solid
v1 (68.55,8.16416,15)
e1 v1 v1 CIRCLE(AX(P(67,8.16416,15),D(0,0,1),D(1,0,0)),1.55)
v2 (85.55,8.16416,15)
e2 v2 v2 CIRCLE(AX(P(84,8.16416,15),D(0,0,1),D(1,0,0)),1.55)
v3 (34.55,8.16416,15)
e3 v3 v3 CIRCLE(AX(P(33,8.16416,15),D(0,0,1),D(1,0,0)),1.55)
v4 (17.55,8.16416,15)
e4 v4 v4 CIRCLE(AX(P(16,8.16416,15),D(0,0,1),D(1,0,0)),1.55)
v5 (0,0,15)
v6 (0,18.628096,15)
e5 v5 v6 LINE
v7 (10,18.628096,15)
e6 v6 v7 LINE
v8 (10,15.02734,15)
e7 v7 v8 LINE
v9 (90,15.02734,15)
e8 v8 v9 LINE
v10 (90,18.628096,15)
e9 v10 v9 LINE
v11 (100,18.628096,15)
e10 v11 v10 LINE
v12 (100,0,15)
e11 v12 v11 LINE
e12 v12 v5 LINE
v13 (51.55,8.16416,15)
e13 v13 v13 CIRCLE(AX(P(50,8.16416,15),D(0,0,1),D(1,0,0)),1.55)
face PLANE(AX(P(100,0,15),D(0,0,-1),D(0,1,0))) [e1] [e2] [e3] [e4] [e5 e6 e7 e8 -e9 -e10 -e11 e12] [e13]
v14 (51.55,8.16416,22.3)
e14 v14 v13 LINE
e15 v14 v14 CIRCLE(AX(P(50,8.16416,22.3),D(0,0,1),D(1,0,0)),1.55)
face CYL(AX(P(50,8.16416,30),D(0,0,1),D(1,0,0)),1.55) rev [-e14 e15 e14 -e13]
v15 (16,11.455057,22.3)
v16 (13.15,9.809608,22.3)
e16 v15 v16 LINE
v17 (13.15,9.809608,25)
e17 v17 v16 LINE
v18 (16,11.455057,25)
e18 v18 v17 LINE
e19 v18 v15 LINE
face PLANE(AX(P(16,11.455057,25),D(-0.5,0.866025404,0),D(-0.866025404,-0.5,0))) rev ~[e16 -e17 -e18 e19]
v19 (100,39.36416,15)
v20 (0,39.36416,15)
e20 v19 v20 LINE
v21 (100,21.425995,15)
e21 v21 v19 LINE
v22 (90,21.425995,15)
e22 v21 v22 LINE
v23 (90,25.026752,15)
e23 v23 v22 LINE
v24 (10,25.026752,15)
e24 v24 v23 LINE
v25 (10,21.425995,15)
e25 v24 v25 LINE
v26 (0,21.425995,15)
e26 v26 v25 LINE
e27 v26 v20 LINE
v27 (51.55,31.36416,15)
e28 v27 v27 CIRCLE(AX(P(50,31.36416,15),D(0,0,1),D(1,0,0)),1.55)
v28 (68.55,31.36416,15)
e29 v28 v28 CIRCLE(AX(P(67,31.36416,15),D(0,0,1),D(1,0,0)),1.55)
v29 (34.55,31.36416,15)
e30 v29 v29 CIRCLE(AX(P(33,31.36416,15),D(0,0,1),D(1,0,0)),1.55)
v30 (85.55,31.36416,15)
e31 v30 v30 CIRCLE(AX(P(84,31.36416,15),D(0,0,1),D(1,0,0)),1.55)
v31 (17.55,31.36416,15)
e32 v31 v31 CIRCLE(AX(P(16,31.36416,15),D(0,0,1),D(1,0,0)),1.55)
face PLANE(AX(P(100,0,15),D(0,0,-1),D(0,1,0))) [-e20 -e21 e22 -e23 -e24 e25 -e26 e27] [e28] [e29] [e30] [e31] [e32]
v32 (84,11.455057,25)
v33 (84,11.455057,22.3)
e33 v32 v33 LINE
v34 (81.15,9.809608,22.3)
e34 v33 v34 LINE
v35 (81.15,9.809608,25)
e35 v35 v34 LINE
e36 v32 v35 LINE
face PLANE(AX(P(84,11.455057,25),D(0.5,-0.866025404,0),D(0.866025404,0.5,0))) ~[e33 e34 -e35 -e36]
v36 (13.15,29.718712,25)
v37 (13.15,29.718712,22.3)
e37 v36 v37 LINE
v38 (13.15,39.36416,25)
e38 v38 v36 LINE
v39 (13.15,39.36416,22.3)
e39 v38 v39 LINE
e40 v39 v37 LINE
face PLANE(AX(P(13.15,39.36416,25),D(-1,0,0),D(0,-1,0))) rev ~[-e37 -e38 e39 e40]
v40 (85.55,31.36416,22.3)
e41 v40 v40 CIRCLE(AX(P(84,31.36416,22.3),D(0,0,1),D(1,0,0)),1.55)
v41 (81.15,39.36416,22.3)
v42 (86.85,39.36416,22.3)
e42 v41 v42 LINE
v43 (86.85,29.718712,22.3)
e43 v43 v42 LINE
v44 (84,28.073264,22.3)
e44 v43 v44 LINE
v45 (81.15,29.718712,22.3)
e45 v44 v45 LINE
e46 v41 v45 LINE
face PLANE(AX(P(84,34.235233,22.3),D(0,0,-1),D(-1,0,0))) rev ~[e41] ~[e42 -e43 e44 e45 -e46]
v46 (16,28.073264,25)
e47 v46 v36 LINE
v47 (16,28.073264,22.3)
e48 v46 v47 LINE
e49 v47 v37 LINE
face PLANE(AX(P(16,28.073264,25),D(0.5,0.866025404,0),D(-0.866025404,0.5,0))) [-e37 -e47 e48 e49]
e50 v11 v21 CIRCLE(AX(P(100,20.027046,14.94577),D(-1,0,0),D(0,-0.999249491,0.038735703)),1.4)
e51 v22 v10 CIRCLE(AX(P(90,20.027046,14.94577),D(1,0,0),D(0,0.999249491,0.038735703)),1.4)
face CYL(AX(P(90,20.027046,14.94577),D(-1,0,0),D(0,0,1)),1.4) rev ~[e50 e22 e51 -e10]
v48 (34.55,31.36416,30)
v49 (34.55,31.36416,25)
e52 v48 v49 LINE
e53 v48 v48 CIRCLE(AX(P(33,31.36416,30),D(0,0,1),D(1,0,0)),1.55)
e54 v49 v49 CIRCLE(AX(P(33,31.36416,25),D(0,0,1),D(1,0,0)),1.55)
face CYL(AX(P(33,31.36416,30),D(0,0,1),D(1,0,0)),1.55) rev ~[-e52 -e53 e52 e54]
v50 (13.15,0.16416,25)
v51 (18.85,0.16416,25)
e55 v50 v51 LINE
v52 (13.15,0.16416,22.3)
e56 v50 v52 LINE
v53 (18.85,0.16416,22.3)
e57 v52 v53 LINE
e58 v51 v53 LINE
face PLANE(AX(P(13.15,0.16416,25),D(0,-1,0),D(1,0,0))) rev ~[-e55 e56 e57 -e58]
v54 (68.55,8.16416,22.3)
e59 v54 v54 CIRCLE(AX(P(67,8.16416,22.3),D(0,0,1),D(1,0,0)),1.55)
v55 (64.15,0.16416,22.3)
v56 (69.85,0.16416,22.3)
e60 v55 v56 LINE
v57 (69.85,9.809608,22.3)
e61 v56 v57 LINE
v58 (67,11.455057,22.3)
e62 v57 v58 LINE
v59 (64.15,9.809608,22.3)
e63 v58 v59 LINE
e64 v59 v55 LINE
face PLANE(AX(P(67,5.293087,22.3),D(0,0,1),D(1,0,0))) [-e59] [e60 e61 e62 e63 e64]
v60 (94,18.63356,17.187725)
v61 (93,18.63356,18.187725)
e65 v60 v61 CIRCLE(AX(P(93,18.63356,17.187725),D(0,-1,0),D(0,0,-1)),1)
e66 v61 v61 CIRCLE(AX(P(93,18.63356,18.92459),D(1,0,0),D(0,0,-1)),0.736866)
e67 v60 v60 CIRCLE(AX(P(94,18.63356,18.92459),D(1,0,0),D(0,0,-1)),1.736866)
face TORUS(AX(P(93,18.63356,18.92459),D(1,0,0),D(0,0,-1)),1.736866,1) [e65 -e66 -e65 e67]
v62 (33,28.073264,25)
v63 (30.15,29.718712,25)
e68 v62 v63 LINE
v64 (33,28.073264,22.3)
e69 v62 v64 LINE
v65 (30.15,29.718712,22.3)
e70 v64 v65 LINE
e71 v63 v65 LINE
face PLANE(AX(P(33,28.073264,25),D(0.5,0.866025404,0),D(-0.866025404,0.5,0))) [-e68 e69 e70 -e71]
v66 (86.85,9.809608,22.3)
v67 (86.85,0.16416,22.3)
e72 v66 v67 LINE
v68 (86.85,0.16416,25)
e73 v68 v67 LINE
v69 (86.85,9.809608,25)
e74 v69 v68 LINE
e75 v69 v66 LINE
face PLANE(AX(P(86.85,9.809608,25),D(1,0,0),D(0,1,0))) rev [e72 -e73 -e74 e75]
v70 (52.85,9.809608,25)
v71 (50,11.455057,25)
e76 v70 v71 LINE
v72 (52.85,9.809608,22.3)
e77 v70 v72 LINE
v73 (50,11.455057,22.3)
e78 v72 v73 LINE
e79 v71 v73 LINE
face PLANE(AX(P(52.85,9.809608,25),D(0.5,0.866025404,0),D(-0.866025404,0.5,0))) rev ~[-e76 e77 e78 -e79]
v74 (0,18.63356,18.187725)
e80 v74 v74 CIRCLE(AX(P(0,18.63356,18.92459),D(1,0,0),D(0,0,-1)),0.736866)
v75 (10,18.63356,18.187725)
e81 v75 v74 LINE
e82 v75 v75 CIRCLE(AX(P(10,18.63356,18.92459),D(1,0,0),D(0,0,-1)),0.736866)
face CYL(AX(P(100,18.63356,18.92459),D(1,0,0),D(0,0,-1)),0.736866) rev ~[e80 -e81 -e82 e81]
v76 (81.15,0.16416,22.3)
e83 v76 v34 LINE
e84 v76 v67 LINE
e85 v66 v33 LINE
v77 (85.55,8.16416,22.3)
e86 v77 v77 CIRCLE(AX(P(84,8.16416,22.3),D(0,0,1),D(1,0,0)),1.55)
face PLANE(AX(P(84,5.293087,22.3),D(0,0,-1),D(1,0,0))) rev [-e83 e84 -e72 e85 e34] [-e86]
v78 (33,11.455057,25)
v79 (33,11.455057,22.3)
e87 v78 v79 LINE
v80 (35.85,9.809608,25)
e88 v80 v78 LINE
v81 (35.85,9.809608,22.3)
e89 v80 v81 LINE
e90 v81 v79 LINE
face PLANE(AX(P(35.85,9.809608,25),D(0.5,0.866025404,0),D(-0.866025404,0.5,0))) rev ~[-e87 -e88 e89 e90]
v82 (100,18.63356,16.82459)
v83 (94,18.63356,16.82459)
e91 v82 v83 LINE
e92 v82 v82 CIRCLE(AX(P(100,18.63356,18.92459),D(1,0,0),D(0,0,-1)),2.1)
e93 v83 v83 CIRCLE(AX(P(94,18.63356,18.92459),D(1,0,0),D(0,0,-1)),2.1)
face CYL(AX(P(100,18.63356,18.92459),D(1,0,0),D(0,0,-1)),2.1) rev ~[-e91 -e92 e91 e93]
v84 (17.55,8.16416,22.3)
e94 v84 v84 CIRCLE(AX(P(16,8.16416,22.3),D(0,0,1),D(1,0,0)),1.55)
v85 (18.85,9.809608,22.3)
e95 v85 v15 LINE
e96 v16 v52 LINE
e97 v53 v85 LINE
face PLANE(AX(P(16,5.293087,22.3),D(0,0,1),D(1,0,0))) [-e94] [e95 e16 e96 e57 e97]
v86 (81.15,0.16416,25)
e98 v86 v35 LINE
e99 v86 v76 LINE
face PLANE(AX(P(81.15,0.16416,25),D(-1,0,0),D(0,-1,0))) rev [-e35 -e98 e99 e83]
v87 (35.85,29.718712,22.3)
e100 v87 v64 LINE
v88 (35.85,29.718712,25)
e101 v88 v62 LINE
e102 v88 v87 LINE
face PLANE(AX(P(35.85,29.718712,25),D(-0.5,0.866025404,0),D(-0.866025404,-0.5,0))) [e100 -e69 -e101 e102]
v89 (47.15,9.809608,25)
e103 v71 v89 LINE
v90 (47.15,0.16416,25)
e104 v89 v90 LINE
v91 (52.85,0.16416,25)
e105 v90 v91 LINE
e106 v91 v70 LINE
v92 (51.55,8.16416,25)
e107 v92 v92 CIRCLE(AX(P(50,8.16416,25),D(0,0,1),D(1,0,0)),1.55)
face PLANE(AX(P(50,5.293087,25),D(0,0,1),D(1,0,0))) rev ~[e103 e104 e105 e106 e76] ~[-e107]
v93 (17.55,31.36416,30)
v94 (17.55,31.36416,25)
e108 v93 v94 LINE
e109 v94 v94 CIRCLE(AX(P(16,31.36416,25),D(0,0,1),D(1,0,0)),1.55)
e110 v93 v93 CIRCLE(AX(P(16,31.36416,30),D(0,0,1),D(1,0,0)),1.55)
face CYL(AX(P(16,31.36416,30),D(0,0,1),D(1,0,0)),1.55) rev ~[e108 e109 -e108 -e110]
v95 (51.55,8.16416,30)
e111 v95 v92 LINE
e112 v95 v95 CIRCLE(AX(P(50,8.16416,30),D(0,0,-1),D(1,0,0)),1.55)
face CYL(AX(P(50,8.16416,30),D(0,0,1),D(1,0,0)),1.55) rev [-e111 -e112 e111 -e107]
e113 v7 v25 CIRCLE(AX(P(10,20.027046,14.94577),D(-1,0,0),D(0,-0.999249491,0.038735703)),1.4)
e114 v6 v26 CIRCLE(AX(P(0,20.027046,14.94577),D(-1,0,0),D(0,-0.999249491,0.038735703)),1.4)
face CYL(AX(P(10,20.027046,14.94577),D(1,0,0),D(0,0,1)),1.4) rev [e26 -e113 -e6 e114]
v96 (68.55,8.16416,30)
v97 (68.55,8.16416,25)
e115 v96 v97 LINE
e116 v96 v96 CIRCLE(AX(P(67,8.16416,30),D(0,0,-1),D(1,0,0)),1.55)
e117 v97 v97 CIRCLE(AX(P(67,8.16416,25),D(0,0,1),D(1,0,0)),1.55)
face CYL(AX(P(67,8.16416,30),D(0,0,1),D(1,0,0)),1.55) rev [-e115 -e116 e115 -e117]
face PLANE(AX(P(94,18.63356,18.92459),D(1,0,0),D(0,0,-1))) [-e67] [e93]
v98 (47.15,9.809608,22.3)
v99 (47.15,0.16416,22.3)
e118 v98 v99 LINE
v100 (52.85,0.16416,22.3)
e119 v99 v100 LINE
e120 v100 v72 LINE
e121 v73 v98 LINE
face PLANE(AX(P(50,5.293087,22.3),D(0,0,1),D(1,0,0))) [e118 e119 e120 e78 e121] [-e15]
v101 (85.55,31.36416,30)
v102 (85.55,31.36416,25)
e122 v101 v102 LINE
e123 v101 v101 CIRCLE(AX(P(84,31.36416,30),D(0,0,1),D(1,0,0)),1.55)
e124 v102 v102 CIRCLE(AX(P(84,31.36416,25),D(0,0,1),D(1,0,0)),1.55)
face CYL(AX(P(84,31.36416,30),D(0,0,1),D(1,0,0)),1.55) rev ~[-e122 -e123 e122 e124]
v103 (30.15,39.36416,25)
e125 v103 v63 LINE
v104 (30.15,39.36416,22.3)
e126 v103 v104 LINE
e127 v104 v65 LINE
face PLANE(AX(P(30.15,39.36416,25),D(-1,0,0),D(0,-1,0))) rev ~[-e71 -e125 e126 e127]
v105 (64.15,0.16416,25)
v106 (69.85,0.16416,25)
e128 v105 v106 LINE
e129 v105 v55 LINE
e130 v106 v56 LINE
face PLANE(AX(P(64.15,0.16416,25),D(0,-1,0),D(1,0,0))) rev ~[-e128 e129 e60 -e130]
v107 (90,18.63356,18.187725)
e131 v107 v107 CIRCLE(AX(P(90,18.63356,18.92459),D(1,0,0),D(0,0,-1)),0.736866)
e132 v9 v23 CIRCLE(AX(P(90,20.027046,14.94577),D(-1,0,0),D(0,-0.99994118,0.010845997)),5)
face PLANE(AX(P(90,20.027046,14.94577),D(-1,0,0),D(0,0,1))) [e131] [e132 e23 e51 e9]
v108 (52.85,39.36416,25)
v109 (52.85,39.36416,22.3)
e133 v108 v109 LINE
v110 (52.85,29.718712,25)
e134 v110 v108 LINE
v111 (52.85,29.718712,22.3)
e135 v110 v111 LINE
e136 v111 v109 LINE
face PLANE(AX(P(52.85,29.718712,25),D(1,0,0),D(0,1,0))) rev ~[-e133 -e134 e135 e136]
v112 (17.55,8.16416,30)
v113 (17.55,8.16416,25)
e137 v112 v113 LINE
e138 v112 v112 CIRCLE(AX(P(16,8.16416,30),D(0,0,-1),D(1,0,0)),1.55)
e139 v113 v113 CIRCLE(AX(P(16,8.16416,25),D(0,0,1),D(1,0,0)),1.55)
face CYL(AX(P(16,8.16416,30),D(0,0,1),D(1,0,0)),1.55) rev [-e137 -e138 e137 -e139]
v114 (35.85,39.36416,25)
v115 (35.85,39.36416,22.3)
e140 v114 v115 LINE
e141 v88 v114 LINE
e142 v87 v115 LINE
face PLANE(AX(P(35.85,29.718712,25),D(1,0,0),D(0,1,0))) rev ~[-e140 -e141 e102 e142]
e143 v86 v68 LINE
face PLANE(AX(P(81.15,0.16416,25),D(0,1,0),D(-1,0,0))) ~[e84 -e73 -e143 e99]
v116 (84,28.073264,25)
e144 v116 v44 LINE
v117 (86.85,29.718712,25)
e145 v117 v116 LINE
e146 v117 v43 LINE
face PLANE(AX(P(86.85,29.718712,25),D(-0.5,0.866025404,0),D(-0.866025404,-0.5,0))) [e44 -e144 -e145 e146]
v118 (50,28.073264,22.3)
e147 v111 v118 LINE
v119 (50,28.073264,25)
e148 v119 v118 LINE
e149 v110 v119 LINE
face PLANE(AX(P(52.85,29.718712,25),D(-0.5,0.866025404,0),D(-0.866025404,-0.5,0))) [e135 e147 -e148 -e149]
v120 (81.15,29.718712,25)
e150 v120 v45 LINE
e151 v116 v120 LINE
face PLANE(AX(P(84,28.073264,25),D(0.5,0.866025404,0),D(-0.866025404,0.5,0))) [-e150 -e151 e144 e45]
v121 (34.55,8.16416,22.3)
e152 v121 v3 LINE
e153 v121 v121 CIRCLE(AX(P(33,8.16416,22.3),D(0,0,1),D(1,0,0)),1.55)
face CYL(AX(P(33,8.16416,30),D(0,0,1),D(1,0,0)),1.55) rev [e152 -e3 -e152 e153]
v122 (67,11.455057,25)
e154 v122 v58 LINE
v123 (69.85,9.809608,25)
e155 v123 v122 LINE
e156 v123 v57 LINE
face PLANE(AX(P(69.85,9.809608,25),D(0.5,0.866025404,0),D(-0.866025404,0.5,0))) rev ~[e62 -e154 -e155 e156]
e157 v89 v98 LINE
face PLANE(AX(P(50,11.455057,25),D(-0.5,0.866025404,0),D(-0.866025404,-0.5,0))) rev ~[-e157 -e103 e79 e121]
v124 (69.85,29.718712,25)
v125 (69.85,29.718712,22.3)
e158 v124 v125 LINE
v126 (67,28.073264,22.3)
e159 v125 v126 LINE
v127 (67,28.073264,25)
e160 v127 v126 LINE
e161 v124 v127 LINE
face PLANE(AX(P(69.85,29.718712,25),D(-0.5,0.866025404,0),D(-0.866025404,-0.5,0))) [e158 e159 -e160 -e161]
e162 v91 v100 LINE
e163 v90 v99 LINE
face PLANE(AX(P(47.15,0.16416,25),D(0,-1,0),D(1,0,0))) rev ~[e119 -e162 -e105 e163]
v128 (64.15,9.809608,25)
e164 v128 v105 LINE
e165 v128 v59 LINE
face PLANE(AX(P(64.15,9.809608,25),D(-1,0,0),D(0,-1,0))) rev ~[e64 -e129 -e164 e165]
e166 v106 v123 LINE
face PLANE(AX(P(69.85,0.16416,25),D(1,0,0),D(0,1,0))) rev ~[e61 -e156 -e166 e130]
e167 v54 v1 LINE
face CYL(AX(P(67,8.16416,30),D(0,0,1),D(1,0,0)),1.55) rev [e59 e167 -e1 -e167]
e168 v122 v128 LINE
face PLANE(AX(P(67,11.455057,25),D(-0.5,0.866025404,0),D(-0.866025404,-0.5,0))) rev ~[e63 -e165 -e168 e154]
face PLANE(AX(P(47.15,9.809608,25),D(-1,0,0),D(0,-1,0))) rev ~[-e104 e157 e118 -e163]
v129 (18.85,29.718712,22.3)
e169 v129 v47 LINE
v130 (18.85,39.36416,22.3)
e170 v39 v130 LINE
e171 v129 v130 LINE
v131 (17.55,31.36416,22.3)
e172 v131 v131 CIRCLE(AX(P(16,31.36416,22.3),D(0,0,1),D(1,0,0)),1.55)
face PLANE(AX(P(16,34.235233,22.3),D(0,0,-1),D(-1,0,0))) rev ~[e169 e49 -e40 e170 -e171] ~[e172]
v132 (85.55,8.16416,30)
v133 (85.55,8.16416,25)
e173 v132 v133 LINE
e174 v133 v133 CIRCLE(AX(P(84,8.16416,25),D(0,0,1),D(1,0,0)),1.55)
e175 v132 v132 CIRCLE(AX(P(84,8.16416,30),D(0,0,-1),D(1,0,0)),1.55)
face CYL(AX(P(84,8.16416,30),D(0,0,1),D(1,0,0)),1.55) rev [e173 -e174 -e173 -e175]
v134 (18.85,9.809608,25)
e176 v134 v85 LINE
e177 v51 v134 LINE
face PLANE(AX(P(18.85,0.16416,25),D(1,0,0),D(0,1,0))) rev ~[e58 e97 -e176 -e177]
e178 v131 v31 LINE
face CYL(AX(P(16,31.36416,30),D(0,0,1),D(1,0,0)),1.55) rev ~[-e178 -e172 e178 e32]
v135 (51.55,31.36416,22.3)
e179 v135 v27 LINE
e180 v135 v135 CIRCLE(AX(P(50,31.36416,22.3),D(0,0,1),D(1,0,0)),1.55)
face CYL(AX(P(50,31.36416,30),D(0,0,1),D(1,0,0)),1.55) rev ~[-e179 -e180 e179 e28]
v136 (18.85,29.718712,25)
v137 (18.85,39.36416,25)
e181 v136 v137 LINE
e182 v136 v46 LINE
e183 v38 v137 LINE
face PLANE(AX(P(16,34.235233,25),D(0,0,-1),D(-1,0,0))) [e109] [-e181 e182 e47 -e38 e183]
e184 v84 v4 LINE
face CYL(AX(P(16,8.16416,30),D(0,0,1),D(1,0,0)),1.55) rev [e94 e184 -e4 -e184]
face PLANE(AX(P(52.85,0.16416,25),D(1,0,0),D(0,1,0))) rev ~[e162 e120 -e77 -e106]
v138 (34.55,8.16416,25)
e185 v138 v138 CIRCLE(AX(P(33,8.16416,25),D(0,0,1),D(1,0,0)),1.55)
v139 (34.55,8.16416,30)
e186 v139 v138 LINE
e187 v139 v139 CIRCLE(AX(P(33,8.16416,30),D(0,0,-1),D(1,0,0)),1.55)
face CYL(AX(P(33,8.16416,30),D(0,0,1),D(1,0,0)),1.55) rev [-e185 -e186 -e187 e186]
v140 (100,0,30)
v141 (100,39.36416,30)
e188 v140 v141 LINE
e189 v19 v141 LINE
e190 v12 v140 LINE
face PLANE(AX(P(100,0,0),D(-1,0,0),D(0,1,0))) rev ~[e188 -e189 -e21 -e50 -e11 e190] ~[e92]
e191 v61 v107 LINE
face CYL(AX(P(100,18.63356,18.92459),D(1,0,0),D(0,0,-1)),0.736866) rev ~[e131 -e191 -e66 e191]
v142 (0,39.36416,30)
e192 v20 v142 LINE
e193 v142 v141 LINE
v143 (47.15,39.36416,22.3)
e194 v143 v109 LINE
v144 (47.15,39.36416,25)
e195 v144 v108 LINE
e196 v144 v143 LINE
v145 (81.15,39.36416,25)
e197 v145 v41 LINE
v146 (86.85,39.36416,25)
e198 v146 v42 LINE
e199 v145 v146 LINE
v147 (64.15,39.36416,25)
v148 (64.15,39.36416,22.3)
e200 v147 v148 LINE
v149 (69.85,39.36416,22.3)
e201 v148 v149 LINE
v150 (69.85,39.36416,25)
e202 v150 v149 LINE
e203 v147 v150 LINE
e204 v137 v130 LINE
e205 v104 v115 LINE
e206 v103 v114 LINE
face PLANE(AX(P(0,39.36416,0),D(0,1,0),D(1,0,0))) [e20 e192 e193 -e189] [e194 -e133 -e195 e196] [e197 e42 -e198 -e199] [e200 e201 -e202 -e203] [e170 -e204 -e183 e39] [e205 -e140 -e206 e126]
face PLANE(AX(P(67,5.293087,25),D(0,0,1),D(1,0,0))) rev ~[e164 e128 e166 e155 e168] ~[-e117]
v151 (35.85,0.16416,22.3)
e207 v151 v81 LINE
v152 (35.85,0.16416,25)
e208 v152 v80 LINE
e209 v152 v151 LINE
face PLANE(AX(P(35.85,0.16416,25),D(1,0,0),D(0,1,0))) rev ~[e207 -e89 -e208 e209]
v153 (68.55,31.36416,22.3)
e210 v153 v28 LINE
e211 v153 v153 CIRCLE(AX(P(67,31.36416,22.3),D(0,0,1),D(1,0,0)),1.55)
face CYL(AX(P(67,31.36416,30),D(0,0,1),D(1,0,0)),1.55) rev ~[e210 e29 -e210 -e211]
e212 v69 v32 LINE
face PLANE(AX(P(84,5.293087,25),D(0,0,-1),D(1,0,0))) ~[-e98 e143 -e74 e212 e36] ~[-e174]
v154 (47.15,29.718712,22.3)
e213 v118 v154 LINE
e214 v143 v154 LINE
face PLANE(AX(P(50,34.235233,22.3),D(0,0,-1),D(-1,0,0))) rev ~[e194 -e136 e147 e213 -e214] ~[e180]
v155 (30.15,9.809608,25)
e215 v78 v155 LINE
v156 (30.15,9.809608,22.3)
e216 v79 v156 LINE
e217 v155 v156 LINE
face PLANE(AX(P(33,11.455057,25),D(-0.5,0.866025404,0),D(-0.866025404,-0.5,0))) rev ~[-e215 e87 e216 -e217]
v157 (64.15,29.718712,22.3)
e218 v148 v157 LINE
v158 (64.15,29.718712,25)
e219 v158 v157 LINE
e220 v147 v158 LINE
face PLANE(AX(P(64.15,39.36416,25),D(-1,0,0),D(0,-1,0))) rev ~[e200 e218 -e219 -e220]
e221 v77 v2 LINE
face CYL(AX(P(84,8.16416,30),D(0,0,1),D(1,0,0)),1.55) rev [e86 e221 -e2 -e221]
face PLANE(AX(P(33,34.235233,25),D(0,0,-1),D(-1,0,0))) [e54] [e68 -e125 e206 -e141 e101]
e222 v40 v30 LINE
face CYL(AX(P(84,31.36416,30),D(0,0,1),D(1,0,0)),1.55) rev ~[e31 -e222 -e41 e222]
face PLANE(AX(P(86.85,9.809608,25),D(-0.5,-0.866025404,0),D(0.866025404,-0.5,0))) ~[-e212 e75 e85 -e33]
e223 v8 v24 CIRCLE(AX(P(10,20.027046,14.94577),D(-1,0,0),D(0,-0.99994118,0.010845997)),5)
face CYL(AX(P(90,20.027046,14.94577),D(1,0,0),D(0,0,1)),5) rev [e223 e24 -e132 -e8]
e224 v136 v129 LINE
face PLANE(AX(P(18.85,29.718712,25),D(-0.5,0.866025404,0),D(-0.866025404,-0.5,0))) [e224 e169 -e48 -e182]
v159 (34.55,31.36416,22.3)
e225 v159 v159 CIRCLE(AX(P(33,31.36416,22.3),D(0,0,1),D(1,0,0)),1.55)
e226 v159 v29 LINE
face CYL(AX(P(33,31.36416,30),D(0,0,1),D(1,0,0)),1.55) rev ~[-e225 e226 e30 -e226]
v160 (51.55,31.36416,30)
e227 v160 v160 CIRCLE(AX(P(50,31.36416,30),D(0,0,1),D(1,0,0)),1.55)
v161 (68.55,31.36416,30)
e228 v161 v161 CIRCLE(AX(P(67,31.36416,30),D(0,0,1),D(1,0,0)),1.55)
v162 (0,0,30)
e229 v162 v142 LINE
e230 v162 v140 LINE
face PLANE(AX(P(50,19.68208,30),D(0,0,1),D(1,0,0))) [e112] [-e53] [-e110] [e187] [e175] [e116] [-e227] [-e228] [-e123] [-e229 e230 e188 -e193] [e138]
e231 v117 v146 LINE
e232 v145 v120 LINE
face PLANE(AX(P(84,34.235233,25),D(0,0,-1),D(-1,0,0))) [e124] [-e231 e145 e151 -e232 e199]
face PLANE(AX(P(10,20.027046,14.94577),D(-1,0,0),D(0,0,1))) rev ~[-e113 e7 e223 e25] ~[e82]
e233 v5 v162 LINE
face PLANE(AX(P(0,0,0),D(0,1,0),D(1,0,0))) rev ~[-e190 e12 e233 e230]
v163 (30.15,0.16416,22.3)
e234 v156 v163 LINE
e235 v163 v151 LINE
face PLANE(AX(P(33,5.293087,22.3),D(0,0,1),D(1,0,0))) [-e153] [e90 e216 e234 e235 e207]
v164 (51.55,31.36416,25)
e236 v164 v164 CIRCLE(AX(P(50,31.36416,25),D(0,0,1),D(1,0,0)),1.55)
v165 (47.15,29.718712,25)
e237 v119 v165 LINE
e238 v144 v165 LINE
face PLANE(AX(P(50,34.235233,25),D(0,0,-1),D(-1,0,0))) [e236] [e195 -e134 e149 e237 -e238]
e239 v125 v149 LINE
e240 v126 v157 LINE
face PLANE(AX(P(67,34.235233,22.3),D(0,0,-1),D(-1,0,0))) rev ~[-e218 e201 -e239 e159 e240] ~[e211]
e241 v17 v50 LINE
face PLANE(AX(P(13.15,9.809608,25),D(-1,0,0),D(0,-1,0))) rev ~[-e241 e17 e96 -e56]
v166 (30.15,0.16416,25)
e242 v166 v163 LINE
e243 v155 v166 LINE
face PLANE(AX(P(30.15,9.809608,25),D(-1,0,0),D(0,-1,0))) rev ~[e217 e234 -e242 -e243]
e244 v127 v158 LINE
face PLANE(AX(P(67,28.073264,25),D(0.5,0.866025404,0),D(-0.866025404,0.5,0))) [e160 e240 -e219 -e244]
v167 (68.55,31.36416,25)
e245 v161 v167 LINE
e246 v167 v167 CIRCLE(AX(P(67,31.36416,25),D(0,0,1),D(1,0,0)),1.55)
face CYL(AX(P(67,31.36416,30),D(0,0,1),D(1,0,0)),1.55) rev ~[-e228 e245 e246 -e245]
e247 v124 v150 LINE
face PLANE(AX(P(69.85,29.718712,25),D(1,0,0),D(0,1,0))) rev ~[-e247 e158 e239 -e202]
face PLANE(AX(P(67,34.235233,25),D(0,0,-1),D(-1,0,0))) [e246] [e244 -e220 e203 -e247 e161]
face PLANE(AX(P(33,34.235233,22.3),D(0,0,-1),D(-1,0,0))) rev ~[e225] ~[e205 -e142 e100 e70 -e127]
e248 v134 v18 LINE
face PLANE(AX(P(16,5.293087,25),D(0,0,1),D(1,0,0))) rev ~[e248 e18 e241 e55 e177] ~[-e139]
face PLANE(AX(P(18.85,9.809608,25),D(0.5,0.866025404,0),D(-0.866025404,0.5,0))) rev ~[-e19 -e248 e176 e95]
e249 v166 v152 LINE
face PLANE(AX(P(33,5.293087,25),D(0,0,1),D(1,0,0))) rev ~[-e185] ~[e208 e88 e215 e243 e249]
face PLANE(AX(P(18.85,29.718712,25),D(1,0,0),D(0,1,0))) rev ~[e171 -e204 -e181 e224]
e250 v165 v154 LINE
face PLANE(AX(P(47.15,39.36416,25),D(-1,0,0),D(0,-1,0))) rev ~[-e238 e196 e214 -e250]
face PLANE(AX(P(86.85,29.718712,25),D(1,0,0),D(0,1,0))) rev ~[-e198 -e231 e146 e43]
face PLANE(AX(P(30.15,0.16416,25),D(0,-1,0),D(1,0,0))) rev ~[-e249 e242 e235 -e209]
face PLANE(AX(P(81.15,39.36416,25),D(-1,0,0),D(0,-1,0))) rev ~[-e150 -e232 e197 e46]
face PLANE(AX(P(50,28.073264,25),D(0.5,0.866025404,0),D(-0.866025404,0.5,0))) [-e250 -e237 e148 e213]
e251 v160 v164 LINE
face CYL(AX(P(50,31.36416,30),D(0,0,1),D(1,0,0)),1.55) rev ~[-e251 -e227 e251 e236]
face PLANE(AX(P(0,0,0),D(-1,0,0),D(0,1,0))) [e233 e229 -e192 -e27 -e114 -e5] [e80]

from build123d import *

# Parameters (mm, degrees)
SKIZZE2_W                            = 100
SKIZZE2_H                            = 39.364160046
AUFSATZ_LINEAR_AUSTRAGEN1_DEPTH      = 30
SCHNITT_LINEAR_AUSTRAGEN1_DEPTH      = 40
SCHNITT_LINEAR_AUSTRAGEN1_DEPTH_BACK = 40
SKIZZE10_R                           = 5
SKIZZE17_R                           = 1.4
SCHNITT_LINEAR_AUSTRAGEN2_DEPTH      = 103.710939516
SKIZZE24_R                           = 1.55
SCHNITT_LINEAR_AUSTRAGEN4_DEPTH      = 112.577493681
SKIZZE37_R                           = 0.736865544
SCHNITT_LINEAR_AUSTRAGEN9_DEPTH      = 112.577493681
SKIZZE40_R                           = 2.1
SCHNITT_LINEAR_AUSTRAGEN10_DEPTH     = 6
SKIZZE42_R                           = 0.75
SCHNITT_LINEAR_AUSTRAGEN12_DEPTH     = 10
VERRUNDUNG1_R                        = 1
SKIZZE46_R                           = 2.85
SCHNITT_LINEAR_AUSTRAGEN15_DEPTH     = 10
SCHNITT_LINEAR_START                 = -5
SCHNITT_LINEAR_AUSTRAGEN25_DEPTH     = 2.7
LINEARES_MUSTER1_COUNT               = 5
LINEARES_MUSTER1_PITCH               = 17
SPIEGELN2_COPY_1_SKETCH_R            = 2.85
SPIEGELN2_COPY_1_DEPTH               = 10
SPIEGELN2_COPY_2_SKETCH_R            = 2.85
SPIEGELN2_COPY_2_DEPTH               = 10
SPIEGELN2_COPY_3_SKETCH_R            = 2.85
SPIEGELN2_COPY_3_DEPTH               = 10
SPIEGELN2_COPY_4_SKETCH_R            = 2.85
SPIEGELN2_COPY_4_DEPTH               = 10
SPIEGELN2_START                      = -5
SPIEGELN2_COPY_5_DEPTH               = 2.7
SPIEGELN2_COPY_6_DEPTH               = 2.7
SPIEGELN2_COPY_7_DEPTH               = 2.7
SPIEGELN2_COPY_8_DEPTH               = 2.7
SKIZZE45_W                           = 15
SKIZZE45_H                           = 39.364160046
SCHNITT_LINEAR_AUSTRAGEN14_DEPTH     = 100


with BuildPart() as part:
    # Skizze2 → Aufsatz-Linear austragen1 (new body)
    with BuildSketch(Plane.XY):
        with Locations((50, 19.682080023)):
            Rectangle(SKIZZE2_W, SKIZZE2_H)
    extrude(amount=AUFSATZ_LINEAR_AUSTRAGEN1_DEPTH)

    # Skizze10 → Schnitt-Linear austragen1 (cut, two sides: drawn at the far end of the back side and taken through both)
    with BuildSketch(Plane.ZY.offset(-50).offset(-SCHNITT_LINEAR_AUSTRAGEN1_DEPTH_BACK)):
        with Locations((14.945770016, 20.027045739)):
            Circle(SKIZZE10_R)
    extrude(amount=SCHNITT_LINEAR_AUSTRAGEN1_DEPTH + SCHNITT_LINEAR_AUSTRAGEN1_DEPTH_BACK, mode=Mode.SUBTRACT)

    # Skizze17 → Schnitt-Linear austragen2 (cut, through all)
    with BuildSketch(Plane.ZY.offset(-90)):
        with Locations((14.945770016, 20.027045739)):
            Circle(SKIZZE17_R)
    schnitt_linear_austragen2 = extrude(amount=-SCHNITT_LINEAR_AUSTRAGEN2_DEPTH, mode=Mode.SUBTRACT)

    # Spiegeln1: Schnitt-Linear austragen2 across plane
    add(schnitt_linear_austragen2.mirror(Plane.ZY.offset(-50)), mode=Mode.SUBTRACT)

    # Skizze24 → Schnitt-Linear austragen4 (cut, through all)
    with BuildSketch(Plane.XY.offset(30)):
        with Locations((16, 31.364160046)):
            Circle(SKIZZE24_R)
        with Locations((33, 31.364160046)):
            Circle(SKIZZE24_R)
        with Locations((50, 31.364160046)):
            Circle(SKIZZE24_R)
        with Locations((67, 31.364160046)):
            Circle(SKIZZE24_R)
        with Locations((84, 31.364160046)):
            Circle(SKIZZE24_R)
    schnitt_linear_austragen4 = extrude(amount=-SCHNITT_LINEAR_AUSTRAGEN4_DEPTH, mode=Mode.SUBTRACT)

    # Skizze37 → Schnitt-Linear austragen9 (cut, through all)
    with BuildSketch(Plane(origin=(100, 0, 0), x_dir=(0, 0, -1), z_dir=(1, 0, 0))):
        with Locations((-18.924590299, 18.633559666)):
            Circle(SKIZZE37_R)
    extrude(amount=-SCHNITT_LINEAR_AUSTRAGEN9_DEPTH, mode=Mode.SUBTRACT)

    # Skizze40 → Schnitt-Linear austragen10 (cut)
    with BuildSketch(Plane(origin=(100, 0, 0), x_dir=(0, 0, -1), z_dir=(1, 0, 0))):
        with Locations((-18.924590299, 18.633559666)):
            Circle(SKIZZE40_R)
    extrude(amount=-SCHNITT_LINEAR_AUSTRAGEN10_DEPTH, mode=Mode.SUBTRACT)

    # Skizze42 → Schnitt-Linear austragen12 (cut)
    with BuildSketch(Plane.ZY):
        with Locations((10.86415918, 18.842582577)):
            Circle(SKIZZE42_R)
    extrude(amount=-SCHNITT_LINEAR_AUSTRAGEN12_DEPTH, mode=Mode.SUBTRACT)

    # Verrundung1
    verrundung1_edges = [part.edges().sort_by_distance(p)[0] for p in [
        (94, 18.633559666, 19.661455843),
    ]]
    fillet(verrundung1_edges, radius=VERRUNDUNG1_R)

    # Skizze46 → Schnitt-Linear austragen15 (cut)
    with BuildSketch(Plane(origin=(0, 0, 0), x_dir=(-1, 0, 0), z_dir=(0, 0, -1))):
        with Locations((-84, 31.364160046)):
            Circle(SKIZZE46_R)
    schnitt_linear_austragen15 = extrude(amount=-SCHNITT_LINEAR_AUSTRAGEN15_DEPTH, mode=Mode.SUBTRACT)

    # Skizze50 → Schnitt-Linear austragen25 (cut)
    with BuildSketch(Plane.XY.offset(30).offset(SCHNITT_LINEAR_START)):
        Polygon((81.15, 33.009608314), (81.15, 39.364160046), (86.85, 39.364160046), (86.85, 33.009608314), (86.85, 29.718711779), (84, 28.073263512), (81.15, 29.718711779), align=None)
    schnitt_linear_austragen25 = extrude(amount=-SCHNITT_LINEAR_AUSTRAGEN25_DEPTH, mode=Mode.SUBTRACT)

    # Lineares Muster1: Schnitt-Linear austragen15, Schnitt-Linear austragen25 ×5
    with Locations(*[(-i * LINEARES_MUSTER1_PITCH, 0, 0) for i in range(1, LINEARES_MUSTER1_COUNT)]):
        add(schnitt_linear_austragen15, mode=Mode.SUBTRACT)
        add(schnitt_linear_austragen25, mode=Mode.SUBTRACT)

    # Spiegeln2: Schnitt-Linear austragen15, Schnitt-Linear austragen25 across plane
    add(schnitt_linear_austragen15.mirror(Plane.ZX.offset(19.764160046)), mode=Mode.SUBTRACT)
    add(schnitt_linear_austragen25.mirror(Plane.ZX.offset(19.764160046)), mode=Mode.SUBTRACT)

    # Spiegeln2 copy 1 sketch → Spiegeln2 copy 1 (cut)
    with BuildSketch(Plane(origin=(-17, 39.528320093, 0), x_dir=(-1, 0, 0), z_dir=(0, 0, -1))):
        with Locations((-84, -31.364160046)):
            Circle(SPIEGELN2_COPY_1_SKETCH_R)
    extrude(amount=-SPIEGELN2_COPY_1_DEPTH, mode=Mode.SUBTRACT)

    # Spiegeln2 copy 2 sketch → Spiegeln2 copy 2 (cut)
    with BuildSketch(Plane(origin=(-34, 39.528320093, 0), x_dir=(-1, 0, 0), z_dir=(0, 0, -1))):
        with Locations((-84, -31.364160046)):
            Circle(SPIEGELN2_COPY_2_SKETCH_R)
    extrude(amount=-SPIEGELN2_COPY_2_DEPTH, mode=Mode.SUBTRACT)

    # Spiegeln2 copy 3 sketch → Spiegeln2 copy 3 (cut)
    with BuildSketch(Plane(origin=(-51, 39.528320093, 0), x_dir=(-1, 0, 0), z_dir=(0, 0, -1))):
        with Locations((-84, -31.364160046)):
            Circle(SPIEGELN2_COPY_3_SKETCH_R)
    extrude(amount=-SPIEGELN2_COPY_3_DEPTH, mode=Mode.SUBTRACT)

    # Spiegeln2 copy 4 sketch → Spiegeln2 copy 4 (cut)
    with BuildSketch(Plane(origin=(-68, 39.528320093, 0), x_dir=(-1, 0, 0), z_dir=(0, 0, -1))):
        with Locations((-84, -31.364160046)):
            Circle(SPIEGELN2_COPY_4_SKETCH_R)
    extrude(amount=-SPIEGELN2_COPY_4_DEPTH, mode=Mode.SUBTRACT)

    # Spiegeln2 copy 5 sketch → Spiegeln2 copy 5 (cut)
    with BuildSketch(Plane(origin=(-17, 39.528320093, 30), x_dir=(1, 0, 0), z_dir=(0, 0, 1)).offset(SPIEGELN2_START)):
        Polygon((81.15, -33.009608314), (81.15, -39.364160046), (86.85, -39.364160046), (86.85, -33.009608314), (86.85, -29.718711779), (84, -28.073263512), (81.15, -29.718711779), align=None)
    extrude(amount=-SPIEGELN2_COPY_5_DEPTH, mode=Mode.SUBTRACT)

    # Spiegeln2 copy 6 sketch → Spiegeln2 copy 6 (cut)
    with BuildSketch(Plane(origin=(-34, 39.528320093, 30), x_dir=(1, 0, 0), z_dir=(0, 0, 1)).offset(SPIEGELN2_START)):
        Polygon((81.15, -33.009608314), (81.15, -39.364160046), (86.85, -39.364160046), (86.85, -33.009608314), (86.85, -29.718711779), (84, -28.073263512), (81.15, -29.718711779), align=None)
    extrude(amount=-SPIEGELN2_COPY_6_DEPTH, mode=Mode.SUBTRACT)

    # Spiegeln2 copy 7 sketch → Spiegeln2 copy 7 (cut)
    with BuildSketch(Plane(origin=(-51, 39.528320093, 30), x_dir=(1, 0, 0), z_dir=(0, 0, 1)).offset(SPIEGELN2_START)):
        Polygon((81.15, -33.009608314), (81.15, -39.364160046), (86.85, -39.364160046), (86.85, -33.009608314), (86.85, -29.718711779), (84, -28.073263512), (81.15, -29.718711779), align=None)
    extrude(amount=-SPIEGELN2_COPY_7_DEPTH, mode=Mode.SUBTRACT)

    # Spiegeln2 copy 8 sketch → Spiegeln2 copy 8 (cut)
    with BuildSketch(Plane(origin=(-68, 39.528320093, 30), x_dir=(1, 0, 0), z_dir=(0, 0, 1)).offset(SPIEGELN2_START)):
        Polygon((81.15, -33.009608314), (81.15, -39.364160046), (86.85, -39.364160046), (86.85, -33.009608314), (86.85, -29.718711779), (84, -28.073263512), (81.15, -29.718711779), align=None)
    extrude(amount=-SPIEGELN2_COPY_8_DEPTH, mode=Mode.SUBTRACT)

    # Spiegeln3: Schnitt-Linear austragen4 across plane
    add(schnitt_linear_austragen4.mirror(Plane.ZX.offset(19.764160046)), mode=Mode.SUBTRACT)

    # Skizze45 → Schnitt-Linear austragen14 (cut)
    with BuildSketch(Plane(origin=(100, 0, 0), x_dir=(0, 0, -1), z_dir=(1, 0, 0))):
        with Locations((-7.5, 19.682080023)):
            Rectangle(SKIZZE45_W, SKIZZE45_H)
    extrude(amount=-SCHNITT_LINEAR_AUSTRAGEN14_DEPTH, mode=Mode.SUBTRACT)


solid = part.part
